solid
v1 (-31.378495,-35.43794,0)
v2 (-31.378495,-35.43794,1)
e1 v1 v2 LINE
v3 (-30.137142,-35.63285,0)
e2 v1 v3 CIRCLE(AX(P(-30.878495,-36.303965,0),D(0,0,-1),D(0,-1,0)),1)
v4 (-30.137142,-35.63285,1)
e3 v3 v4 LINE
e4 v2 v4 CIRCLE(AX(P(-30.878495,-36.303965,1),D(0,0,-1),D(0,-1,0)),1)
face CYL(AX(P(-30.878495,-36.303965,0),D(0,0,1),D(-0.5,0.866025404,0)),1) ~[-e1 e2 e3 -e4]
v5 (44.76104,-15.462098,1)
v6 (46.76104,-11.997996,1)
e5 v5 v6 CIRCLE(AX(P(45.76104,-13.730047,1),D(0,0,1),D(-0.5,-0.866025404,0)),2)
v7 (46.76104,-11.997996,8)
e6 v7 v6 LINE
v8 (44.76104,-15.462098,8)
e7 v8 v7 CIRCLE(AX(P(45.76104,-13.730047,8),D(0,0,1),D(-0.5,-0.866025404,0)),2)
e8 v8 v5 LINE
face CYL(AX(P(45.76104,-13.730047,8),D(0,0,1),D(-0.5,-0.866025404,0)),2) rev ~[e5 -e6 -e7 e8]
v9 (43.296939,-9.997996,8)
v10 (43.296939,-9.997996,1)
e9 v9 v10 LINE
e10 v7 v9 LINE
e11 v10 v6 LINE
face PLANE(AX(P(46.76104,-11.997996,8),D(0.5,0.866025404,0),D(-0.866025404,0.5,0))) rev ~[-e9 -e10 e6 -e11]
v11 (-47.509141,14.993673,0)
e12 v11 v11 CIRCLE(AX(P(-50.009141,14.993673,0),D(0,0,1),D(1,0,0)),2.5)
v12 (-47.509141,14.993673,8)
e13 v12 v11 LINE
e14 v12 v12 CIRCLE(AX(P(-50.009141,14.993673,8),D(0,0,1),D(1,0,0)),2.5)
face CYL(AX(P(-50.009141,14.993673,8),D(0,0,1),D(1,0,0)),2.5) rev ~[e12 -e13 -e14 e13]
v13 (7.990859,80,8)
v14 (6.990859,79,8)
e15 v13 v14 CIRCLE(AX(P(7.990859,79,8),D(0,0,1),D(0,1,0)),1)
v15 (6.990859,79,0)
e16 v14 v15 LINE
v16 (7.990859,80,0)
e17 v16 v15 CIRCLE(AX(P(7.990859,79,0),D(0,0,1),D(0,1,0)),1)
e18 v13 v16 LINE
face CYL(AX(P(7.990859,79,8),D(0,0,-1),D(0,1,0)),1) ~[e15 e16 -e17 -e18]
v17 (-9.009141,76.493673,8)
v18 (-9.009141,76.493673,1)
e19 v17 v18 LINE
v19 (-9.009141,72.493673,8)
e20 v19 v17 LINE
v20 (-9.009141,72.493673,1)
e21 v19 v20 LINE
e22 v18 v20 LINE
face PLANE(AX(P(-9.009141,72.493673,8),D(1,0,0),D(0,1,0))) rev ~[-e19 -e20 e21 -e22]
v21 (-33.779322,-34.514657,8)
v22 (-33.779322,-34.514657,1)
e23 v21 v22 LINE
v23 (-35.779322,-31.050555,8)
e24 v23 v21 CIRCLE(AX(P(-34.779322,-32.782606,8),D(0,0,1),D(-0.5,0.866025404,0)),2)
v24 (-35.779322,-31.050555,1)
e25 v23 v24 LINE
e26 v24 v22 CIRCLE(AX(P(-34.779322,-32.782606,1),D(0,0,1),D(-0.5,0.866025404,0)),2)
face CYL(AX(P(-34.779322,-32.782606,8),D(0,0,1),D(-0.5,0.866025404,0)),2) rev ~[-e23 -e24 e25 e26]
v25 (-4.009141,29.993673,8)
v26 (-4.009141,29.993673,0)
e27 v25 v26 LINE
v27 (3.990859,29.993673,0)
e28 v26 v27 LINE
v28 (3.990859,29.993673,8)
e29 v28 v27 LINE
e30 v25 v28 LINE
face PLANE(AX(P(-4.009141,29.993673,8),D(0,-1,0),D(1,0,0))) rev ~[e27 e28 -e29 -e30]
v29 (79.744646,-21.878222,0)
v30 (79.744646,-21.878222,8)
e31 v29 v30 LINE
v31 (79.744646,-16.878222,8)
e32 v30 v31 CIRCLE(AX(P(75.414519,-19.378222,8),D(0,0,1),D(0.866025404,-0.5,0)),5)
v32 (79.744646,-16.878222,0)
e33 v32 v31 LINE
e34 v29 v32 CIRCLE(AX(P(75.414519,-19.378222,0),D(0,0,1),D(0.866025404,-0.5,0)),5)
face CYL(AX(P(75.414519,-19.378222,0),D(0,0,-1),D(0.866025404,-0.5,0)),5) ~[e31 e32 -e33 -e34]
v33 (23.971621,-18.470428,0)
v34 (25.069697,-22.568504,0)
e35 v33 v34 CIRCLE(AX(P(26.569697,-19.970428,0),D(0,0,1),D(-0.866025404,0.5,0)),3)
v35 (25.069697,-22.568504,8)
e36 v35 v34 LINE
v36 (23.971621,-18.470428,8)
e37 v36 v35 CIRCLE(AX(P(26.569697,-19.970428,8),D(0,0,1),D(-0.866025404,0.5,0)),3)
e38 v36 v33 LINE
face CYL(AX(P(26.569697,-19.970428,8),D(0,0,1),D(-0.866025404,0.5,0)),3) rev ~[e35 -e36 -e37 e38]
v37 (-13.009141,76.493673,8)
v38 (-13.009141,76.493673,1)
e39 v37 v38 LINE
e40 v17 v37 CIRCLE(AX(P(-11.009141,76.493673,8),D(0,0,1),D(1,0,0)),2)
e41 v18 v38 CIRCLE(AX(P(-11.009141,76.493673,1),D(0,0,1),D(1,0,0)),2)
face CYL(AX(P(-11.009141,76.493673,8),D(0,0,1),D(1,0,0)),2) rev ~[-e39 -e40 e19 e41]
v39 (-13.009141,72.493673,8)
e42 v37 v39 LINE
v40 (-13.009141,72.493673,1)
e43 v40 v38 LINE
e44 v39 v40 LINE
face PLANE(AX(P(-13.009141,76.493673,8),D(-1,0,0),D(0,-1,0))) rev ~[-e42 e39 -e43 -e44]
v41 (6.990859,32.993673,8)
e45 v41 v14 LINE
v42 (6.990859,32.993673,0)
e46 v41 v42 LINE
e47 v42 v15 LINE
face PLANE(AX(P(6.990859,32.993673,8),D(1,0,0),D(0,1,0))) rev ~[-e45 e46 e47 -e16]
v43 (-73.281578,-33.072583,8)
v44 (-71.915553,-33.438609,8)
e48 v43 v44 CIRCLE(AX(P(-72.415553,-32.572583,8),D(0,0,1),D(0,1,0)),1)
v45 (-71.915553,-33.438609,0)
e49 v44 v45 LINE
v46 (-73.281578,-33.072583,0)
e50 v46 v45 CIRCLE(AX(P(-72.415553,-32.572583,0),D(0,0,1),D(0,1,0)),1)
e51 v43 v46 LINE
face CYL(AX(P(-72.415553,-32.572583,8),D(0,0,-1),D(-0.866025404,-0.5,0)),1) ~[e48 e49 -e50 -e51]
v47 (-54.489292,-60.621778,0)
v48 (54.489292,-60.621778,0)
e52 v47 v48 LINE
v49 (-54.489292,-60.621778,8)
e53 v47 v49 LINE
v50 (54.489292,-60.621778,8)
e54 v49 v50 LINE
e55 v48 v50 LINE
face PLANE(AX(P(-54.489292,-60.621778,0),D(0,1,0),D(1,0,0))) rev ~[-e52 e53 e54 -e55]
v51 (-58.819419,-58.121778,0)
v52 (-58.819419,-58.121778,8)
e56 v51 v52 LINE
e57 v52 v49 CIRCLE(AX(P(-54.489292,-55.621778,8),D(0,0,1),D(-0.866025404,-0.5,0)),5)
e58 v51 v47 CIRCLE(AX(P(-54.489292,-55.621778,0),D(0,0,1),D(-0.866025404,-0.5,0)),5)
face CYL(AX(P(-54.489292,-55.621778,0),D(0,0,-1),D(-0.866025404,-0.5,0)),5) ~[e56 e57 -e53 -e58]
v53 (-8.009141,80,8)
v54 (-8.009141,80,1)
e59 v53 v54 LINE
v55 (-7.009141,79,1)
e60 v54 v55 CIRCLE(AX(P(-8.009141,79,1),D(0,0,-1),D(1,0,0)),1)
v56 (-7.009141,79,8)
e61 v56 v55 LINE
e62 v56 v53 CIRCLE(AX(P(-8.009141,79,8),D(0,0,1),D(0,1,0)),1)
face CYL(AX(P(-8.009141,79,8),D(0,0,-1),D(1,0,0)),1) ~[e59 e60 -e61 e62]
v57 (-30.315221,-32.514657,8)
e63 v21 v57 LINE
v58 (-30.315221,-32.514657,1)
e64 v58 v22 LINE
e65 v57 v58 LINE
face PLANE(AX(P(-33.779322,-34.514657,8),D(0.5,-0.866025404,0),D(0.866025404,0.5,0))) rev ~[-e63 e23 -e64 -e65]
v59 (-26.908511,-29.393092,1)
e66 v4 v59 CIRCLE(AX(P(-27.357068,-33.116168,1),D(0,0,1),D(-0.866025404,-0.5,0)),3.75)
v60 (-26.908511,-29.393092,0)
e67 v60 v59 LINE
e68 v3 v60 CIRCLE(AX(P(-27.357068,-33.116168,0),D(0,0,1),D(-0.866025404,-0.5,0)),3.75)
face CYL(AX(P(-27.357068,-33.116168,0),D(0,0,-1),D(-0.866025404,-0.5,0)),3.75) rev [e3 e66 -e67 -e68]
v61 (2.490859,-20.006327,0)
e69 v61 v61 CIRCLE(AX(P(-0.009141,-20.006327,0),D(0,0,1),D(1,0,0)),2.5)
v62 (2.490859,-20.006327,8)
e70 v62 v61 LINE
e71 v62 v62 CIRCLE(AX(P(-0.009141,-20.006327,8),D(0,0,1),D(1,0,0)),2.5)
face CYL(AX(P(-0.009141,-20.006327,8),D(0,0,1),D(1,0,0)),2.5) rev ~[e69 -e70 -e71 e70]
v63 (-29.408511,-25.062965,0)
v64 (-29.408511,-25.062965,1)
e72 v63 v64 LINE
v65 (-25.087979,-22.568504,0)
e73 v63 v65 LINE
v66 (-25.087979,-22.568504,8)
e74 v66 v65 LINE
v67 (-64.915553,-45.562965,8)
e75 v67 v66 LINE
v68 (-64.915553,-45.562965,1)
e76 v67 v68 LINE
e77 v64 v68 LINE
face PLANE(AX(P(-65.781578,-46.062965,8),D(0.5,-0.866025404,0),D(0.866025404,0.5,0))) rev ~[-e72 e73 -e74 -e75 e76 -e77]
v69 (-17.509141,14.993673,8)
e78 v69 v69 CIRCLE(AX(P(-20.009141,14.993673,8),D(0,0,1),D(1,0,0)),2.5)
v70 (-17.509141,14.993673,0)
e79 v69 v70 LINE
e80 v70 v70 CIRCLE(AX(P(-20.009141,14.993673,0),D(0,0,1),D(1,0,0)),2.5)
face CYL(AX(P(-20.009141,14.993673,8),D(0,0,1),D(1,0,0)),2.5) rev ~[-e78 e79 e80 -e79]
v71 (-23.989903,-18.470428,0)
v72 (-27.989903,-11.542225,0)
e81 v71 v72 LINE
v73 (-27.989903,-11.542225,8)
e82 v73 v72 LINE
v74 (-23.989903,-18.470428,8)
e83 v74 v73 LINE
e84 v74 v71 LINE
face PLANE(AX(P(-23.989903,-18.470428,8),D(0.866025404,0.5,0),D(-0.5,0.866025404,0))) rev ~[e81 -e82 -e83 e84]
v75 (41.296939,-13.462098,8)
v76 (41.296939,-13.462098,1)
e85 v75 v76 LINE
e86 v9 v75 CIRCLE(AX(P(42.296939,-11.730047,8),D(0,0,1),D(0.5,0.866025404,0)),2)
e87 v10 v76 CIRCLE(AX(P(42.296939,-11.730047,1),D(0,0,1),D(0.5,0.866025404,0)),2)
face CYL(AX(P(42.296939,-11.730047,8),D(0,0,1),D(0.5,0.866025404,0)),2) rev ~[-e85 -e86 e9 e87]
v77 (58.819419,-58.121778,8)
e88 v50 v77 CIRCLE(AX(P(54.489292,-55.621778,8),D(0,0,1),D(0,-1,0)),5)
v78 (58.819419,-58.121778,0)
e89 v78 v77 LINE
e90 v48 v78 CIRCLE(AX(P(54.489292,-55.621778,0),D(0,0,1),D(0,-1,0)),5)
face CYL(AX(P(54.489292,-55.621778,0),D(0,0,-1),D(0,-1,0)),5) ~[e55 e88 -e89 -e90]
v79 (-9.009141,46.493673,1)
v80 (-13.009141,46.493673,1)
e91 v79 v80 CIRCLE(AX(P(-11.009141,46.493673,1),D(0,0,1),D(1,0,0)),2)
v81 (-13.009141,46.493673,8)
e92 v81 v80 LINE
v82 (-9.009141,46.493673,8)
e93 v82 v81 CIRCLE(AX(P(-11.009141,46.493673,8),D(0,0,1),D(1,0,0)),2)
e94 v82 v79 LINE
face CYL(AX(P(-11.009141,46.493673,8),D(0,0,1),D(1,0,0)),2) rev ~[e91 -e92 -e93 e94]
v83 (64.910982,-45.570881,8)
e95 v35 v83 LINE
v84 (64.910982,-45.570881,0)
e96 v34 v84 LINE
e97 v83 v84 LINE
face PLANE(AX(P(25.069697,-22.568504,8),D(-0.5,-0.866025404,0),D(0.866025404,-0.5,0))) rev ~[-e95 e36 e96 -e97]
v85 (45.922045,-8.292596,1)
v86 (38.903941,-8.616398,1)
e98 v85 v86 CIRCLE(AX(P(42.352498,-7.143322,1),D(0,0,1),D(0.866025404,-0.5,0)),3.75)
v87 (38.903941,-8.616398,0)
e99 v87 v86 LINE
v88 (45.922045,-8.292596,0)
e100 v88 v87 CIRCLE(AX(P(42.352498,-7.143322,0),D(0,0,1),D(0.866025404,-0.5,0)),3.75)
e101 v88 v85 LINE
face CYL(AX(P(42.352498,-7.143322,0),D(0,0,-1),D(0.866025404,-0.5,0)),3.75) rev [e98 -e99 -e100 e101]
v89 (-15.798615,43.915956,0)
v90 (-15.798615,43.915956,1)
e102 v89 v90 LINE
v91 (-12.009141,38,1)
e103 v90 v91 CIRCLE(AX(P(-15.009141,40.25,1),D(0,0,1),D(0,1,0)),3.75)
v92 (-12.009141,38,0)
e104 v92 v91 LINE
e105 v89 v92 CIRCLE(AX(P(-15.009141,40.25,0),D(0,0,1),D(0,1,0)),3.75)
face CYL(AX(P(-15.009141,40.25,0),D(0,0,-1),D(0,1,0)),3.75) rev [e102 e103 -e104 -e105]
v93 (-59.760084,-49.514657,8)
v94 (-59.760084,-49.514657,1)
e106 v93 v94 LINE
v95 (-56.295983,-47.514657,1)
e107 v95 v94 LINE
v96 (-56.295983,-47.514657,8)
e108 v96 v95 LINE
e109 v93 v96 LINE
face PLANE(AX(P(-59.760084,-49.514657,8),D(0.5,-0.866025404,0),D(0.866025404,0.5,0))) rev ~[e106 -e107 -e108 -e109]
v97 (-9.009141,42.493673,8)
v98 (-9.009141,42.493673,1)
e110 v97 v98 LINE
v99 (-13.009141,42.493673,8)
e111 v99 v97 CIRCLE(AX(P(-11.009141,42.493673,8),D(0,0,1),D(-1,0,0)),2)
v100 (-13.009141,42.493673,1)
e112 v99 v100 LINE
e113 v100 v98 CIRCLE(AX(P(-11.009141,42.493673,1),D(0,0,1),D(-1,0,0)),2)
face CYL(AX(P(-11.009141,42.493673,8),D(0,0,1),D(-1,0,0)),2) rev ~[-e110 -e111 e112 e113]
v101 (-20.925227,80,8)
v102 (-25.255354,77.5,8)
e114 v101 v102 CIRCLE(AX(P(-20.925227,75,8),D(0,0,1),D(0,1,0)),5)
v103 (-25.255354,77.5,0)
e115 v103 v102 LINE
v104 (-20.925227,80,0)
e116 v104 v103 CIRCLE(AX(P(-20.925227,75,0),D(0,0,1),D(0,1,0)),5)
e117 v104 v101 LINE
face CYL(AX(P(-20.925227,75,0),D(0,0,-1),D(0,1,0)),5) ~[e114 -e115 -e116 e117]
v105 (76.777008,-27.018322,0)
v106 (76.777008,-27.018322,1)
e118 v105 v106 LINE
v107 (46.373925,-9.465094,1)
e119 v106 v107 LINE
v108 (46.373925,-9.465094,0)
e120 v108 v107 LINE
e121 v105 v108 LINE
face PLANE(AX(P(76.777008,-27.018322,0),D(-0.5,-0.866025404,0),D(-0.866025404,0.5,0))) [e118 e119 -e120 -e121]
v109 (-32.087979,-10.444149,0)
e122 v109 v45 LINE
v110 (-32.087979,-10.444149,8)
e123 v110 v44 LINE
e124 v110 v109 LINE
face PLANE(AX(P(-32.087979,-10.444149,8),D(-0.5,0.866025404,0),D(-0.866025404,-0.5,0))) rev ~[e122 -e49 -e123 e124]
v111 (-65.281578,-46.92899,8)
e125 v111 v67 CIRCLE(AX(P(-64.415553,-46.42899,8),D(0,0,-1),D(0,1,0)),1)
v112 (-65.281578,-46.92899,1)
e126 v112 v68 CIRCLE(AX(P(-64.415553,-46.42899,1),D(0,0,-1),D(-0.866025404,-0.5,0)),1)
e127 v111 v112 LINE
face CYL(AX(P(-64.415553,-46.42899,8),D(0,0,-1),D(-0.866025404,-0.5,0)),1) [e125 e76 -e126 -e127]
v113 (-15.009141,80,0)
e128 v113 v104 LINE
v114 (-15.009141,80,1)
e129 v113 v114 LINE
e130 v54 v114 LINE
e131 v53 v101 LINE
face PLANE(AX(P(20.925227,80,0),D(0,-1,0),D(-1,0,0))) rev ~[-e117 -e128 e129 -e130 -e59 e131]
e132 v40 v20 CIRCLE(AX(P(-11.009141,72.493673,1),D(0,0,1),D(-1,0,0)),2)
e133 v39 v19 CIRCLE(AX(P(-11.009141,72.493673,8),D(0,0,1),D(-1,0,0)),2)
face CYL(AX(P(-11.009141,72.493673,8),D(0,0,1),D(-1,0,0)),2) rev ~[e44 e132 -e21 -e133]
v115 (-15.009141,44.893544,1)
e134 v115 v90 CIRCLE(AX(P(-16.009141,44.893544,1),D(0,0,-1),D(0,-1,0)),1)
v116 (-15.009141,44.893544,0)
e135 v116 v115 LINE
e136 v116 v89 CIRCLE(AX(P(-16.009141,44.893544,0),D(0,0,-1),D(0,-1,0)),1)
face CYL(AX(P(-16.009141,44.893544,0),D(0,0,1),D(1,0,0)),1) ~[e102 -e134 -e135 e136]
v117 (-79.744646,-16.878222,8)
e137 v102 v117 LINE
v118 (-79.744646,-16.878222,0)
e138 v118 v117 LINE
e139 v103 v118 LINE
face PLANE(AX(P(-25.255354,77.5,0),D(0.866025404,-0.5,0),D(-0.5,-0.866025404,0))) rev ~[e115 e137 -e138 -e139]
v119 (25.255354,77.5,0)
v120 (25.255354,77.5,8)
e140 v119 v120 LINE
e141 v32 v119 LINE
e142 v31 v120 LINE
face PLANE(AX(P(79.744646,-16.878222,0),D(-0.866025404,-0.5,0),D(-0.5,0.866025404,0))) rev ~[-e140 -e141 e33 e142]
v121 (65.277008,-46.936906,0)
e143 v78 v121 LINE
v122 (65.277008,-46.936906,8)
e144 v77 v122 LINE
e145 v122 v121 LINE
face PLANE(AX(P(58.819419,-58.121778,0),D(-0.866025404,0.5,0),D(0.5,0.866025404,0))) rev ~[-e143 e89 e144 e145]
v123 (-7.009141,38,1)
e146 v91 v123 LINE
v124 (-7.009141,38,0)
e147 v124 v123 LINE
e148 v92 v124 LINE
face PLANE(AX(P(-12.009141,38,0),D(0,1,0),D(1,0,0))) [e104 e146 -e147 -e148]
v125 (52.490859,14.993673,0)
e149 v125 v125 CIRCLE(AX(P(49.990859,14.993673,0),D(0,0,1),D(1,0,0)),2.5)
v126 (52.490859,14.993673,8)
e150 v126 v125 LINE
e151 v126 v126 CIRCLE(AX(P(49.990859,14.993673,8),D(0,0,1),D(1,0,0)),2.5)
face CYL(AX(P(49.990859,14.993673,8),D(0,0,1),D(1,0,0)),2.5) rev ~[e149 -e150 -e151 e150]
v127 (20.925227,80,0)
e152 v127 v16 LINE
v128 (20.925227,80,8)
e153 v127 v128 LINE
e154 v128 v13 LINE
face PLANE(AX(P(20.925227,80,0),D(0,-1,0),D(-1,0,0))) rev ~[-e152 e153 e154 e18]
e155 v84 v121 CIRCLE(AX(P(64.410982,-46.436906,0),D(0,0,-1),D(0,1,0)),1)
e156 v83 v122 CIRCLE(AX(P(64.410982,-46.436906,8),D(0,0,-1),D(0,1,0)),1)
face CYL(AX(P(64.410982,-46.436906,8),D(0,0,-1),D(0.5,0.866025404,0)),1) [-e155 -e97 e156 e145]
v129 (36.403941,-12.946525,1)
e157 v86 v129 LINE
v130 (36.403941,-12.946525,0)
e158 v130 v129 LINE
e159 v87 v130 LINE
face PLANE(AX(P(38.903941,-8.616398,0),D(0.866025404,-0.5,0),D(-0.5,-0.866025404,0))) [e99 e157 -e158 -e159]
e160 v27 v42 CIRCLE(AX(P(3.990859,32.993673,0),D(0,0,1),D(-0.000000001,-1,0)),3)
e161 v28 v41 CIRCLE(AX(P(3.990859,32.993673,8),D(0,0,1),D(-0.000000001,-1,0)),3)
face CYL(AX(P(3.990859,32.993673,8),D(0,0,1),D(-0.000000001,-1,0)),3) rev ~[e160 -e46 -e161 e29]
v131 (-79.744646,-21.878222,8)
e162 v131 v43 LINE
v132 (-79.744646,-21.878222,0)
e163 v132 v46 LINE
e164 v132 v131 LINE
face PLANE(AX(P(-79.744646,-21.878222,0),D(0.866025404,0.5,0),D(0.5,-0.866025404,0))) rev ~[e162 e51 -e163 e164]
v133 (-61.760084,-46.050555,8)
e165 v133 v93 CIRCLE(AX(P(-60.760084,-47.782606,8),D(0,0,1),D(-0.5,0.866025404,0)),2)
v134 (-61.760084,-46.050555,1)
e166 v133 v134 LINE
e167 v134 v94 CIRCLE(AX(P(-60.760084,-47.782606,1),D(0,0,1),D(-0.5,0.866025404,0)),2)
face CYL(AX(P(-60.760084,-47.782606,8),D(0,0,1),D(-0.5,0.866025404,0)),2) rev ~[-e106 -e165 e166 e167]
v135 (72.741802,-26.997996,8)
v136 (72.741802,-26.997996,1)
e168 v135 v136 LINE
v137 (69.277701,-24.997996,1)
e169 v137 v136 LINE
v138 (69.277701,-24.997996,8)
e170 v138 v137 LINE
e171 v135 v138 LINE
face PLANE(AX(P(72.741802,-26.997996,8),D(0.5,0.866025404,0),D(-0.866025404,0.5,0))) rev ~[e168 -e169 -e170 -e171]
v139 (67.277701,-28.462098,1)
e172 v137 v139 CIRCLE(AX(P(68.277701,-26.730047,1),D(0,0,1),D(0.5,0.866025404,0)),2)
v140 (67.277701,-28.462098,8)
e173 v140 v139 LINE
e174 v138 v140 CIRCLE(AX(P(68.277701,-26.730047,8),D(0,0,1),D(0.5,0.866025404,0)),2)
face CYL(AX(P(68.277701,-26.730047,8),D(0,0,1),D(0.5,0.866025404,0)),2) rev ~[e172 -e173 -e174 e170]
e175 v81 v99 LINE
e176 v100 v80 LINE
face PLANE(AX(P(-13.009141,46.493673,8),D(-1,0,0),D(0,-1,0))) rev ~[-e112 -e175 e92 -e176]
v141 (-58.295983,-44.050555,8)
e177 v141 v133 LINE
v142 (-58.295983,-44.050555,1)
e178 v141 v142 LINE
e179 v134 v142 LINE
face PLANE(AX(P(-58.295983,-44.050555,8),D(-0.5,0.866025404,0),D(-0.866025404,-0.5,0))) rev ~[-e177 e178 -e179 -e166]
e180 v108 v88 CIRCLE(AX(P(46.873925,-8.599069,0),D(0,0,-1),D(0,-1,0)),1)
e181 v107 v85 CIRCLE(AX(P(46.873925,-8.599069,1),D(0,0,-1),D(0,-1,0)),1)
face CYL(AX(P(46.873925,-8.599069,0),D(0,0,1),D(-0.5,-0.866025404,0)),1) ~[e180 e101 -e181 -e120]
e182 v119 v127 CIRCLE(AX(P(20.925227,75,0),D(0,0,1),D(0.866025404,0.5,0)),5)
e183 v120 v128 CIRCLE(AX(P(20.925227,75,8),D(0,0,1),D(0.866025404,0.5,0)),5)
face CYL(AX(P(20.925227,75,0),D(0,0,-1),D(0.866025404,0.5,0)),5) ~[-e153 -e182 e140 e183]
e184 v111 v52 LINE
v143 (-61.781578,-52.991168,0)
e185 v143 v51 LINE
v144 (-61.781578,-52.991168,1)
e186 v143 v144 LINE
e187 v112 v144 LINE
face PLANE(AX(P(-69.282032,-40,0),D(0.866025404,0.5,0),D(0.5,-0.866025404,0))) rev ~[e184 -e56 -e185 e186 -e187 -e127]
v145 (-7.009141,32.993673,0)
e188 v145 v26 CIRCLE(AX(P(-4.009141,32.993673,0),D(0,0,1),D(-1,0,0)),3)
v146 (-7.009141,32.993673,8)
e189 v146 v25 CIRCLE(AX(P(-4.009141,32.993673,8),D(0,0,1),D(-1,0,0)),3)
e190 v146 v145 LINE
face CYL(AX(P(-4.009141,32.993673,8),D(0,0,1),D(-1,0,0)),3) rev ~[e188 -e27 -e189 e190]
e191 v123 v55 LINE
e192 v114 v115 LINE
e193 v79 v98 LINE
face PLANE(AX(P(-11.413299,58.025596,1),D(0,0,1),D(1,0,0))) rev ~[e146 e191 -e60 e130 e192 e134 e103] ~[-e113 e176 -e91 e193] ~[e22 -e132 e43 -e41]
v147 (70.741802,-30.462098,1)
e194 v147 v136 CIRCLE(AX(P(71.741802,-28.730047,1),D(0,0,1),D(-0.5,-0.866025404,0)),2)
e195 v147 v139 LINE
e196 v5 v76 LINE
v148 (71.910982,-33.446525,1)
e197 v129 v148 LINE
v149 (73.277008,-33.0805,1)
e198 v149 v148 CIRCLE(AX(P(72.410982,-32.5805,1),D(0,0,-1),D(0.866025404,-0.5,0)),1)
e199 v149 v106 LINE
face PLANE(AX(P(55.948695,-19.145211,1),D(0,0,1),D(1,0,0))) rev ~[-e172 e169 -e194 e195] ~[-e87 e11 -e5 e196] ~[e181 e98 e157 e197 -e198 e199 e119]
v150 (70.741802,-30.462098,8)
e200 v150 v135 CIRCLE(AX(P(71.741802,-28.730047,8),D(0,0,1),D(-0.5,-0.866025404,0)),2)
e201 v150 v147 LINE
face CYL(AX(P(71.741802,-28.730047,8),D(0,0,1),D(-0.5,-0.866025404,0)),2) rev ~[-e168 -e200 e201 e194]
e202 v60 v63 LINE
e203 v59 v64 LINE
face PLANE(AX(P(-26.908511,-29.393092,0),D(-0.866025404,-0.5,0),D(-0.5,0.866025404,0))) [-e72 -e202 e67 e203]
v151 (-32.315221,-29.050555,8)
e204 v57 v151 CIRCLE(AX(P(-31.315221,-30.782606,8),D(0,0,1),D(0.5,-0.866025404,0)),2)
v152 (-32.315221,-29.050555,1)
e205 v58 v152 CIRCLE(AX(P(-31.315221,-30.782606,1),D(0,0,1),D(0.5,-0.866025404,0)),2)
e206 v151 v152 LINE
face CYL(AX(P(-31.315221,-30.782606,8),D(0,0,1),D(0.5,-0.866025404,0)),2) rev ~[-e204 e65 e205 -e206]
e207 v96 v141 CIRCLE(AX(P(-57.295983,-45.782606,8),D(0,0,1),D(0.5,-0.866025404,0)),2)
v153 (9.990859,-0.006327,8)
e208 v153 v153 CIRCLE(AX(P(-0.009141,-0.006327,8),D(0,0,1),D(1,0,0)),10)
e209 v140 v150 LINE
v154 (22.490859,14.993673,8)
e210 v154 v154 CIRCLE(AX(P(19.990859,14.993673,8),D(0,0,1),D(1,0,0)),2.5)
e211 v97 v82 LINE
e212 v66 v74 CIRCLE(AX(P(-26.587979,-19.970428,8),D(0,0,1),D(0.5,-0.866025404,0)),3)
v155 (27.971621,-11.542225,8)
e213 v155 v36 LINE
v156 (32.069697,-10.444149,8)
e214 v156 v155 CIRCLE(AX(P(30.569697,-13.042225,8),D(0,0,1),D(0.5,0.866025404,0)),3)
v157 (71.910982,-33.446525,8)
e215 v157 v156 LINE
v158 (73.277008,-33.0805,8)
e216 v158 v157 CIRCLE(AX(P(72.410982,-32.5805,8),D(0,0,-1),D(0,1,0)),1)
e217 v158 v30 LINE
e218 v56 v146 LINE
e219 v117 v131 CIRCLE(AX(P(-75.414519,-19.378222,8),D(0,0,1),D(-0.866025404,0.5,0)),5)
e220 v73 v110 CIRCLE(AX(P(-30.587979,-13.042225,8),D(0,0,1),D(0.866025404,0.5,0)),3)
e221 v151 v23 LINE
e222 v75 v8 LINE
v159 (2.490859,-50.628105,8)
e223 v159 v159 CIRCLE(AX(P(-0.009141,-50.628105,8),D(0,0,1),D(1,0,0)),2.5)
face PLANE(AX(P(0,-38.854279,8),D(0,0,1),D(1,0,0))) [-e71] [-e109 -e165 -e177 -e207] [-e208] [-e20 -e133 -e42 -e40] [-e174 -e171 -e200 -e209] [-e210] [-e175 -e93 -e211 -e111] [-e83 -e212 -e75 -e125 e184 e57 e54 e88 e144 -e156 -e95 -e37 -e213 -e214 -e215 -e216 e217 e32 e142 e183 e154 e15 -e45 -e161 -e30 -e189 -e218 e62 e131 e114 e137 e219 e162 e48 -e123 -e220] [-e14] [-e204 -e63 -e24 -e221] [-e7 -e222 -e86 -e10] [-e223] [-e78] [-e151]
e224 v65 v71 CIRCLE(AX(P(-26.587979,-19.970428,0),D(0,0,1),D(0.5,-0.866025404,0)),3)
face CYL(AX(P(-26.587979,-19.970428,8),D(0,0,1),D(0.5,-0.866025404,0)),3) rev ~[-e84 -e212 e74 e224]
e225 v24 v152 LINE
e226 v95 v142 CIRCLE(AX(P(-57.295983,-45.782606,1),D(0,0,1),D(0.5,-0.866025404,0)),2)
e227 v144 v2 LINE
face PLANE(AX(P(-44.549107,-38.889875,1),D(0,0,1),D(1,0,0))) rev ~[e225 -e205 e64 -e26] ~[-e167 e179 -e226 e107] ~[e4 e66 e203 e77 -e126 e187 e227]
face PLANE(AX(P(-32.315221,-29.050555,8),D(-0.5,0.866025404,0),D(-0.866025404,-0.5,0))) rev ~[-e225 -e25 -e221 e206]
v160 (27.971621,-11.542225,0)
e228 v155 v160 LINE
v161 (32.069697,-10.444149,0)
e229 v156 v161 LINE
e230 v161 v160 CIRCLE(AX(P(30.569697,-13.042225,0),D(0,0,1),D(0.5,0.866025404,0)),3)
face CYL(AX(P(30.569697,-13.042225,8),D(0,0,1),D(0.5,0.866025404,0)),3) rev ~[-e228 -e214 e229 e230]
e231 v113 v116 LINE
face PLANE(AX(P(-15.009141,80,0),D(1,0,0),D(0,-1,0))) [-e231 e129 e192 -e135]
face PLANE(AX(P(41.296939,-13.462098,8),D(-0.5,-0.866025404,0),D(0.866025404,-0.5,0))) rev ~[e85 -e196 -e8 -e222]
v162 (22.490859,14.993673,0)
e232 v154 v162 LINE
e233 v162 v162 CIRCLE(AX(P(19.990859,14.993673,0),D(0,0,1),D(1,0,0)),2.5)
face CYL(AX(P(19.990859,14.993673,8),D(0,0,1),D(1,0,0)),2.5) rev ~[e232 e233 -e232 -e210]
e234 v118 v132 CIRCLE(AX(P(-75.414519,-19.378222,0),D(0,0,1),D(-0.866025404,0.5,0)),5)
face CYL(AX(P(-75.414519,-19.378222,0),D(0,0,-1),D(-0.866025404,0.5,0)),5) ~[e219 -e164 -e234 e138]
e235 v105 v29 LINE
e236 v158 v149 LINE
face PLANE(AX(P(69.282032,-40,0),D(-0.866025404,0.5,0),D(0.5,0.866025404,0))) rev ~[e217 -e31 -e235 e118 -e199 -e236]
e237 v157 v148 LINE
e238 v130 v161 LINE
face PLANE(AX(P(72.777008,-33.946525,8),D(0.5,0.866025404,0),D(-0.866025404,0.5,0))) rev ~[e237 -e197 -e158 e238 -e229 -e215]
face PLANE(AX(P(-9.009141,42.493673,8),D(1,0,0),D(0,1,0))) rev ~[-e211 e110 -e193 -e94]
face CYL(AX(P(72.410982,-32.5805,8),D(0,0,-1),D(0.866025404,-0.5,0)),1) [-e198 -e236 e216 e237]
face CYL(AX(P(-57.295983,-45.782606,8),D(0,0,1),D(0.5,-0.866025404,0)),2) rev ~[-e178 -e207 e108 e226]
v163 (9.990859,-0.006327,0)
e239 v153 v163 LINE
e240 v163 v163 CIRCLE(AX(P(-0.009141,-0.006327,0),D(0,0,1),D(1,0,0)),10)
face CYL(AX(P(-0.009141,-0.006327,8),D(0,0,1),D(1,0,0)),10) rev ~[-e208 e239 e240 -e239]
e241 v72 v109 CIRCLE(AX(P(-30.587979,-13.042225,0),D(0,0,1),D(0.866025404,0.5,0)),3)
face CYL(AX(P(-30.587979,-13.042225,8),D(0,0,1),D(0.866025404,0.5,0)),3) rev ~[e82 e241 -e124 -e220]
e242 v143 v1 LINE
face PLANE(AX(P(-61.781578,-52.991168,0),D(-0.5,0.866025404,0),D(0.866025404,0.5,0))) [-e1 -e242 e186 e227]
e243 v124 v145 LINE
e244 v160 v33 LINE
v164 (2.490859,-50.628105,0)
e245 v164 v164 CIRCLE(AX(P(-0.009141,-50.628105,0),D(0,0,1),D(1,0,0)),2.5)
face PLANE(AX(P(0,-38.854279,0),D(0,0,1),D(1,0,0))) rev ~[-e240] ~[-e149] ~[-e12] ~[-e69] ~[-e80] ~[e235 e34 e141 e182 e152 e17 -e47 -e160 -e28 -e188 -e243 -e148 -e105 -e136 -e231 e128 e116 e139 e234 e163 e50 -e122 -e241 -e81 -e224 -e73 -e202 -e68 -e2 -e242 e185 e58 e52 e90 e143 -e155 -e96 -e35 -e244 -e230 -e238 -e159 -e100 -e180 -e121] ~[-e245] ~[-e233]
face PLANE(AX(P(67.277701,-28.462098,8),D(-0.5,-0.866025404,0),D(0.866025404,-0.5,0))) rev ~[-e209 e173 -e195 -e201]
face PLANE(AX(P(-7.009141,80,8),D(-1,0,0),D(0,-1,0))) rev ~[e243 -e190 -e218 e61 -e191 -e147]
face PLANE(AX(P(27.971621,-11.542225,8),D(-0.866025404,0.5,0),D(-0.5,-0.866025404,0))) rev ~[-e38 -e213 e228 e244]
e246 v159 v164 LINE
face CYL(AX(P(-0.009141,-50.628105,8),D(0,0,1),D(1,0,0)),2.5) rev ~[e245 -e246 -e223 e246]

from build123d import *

# Parameters (mm, degrees)
BOSS_EXTRUDE1_DEPTH = 8
SKETCH5_R           = 2.5
SKETCH5_R_2         = 10
CUT_EXTRUDE26_DEPTH = 9
FILLET2_R           = 1
FILLET3_R           = 1
CUT_EXTRUDE27_DEPTH = 1
FILLET4_R           = 1


with BuildPart() as part:
    # Sketch3 → Boss-Extrude1 (new body)
    with BuildSketch(Plane.XY):
        with BuildLine():
            Line((69.282032303, -40), (0, 0))
            Line((0, 0), (-69.282032302, -40))
            Line((-69.282032302, -40), (-58.819418743, -58.121778265))
            ThreePointArc((-58.819418743, -58.121778265), (-56.989291724, -59.951905284), (-54.489291724, -60.621778265))
            Line((-54.489291724, -60.621778265), (54.489291724, -60.621778265))
            ThreePointArc((54.489291724, -60.621778265), (56.989291724, -59.951905284), (58.819418743, -58.121778265))
            Line((58.819418743, -58.121778265), (69.282032303, -40))
        make_face()
        with BuildLine():
            Line((0, 80), (0, 0))
            Line((0, 0), (69.282032303, -40))
            Line((69.282032303, -40), (79.744645862, -21.878221735))
            ThreePointArc((79.744645862, -21.878221735), (80.414518843, -19.378221735), (79.744645862, -16.878221735))
            Line((79.744645862, -16.878221735), (25.255354138, 77.5))
            ThreePointArc((25.255354138, 77.5), (23.425227119, 79.330127019), (20.925227119, 80))
            Line((20.925227119, 80), (0, 80))
        make_face()
        with BuildLine():
            Line((-69.282032302, -40), (0, 0))
            Line((0, 0), (0, 80))
            Line((0, 80), (-20.925227119, 80))
            ThreePointArc((-20.925227119, 80), (-23.425227119, 79.330127019), (-25.255354138, 77.5))
            Line((-25.255354138, 77.5), (-79.744645862, -16.878221735))
            ThreePointArc((-79.744645862, -16.878221735), (-80.414518843, -19.378221735), (-79.744645862, -21.878221735))
            Line((-79.744645862, -21.878221735), (-69.282032302, -40))
        make_face()
    extrude(amount=BOSS_EXTRUDE1_DEPTH)

    # Sketch5 → Cut-Extrude26 (cut, through all)
    with BuildSketch(Plane.XY.offset(8)):
        with BuildLine():
            Line((6.99085892, 80), (-7.00914108, 80))
            Line((-7.00914108, 80), (-7.00914108, 32.993673427))
            ThreePointArc((-7.00914108, 32.993673427), (-6.130461423, 30.872353083), (-4.00914108, 29.993673427))
            Line((-4.00914108, 29.993673427), (3.99085892, 29.993673427))
            ThreePointArc((3.99085892, 29.993673427), (6.112179264, 30.872353083), (6.99085892, 32.993673427))
            Line((6.99085892, 32.993673427), (6.99085892, 80))
        make_face()
        with BuildLine():
            Line((-13.00914108, 76.493673427), (-13.00914108, 72.493673427))
            ThreePointArc((-13.00914108, 72.493673427), (-11.00914108, 70.493673427), (-9.00914108, 72.493673427))
            Line((-9.00914108, 72.493673427), (-9.00914108, 76.493673427))
            ThreePointArc((-9.00914108, 76.493673427), (-11.00914108, 78.493673427), (-13.00914108, 76.493673427))
        make_face()
        with BuildLine():
            Line((-13.00914108, 46.493673427), (-13.00914108, 42.493673427))
            ThreePointArc((-13.00914108, 42.493673427), (-11.00914108, 40.493673427), (-9.00914108, 42.493673427))
            Line((-9.00914108, 42.493673427), (-9.00914108, 46.493673427))
            ThreePointArc((-9.00914108, 46.493673427), (-11.00914108, 48.493673427), (-13.00914108, 46.493673427))
        make_face()
        with Locations((49.99085892, 14.993673427)):
            Circle(SKETCH5_R)
        with Locations((19.99085892, 14.993673427)):
            Circle(SKETCH5_R)
        with Locations((-20.00914108, 14.993673427)):
            Circle(SKETCH5_R)
        with Locations((-50.00914108, 14.993673427)):
            Circle(SKETCH5_R)
        with Locations((-0.00914108, -0.006326573)):
            Circle(SKETCH5_R_2)
        with BuildLine():
            Line((-32.087979405, -10.444148747), (-72.781578086, -33.9386089))
            Line((-72.781578086, -33.9386089), (-65.781578086, -46.062964553))
            Line((-65.781578086, -46.062964553), (-25.087979405, -22.5685044))
            ThreePointArc((-25.087979405, -22.5685044), (-23.690201926, -20.746885324), (-23.989903193, -18.470428188))
            Line((-23.989903193, -18.470428188), (-27.989903193, -11.542224958))
            ThreePointArc((-27.989903193, -11.542224958), (-29.811522269, -10.144447479), (-32.087979405, -10.444148747))
        make_face()
        with BuildLine():
            Line((-33.779322356, -34.514656822), (-30.315220741, -32.514656822))
            ThreePointArc((-30.315220741, -32.514656822), (-29.583169933, -29.782606015), (-32.315220741, -29.050555207))
            Line((-32.315220741, -29.050555207), (-35.779322356, -31.050555207))
            ThreePointArc((-35.779322356, -31.050555207), (-36.511373163, -33.782606015), (-33.779322356, -34.514656822))
        make_face()
        with BuildLine():
            Line((-59.760084469, -49.514656822), (-56.295982854, -47.514656822))
            ThreePointArc((-56.295982854, -47.514656822), (-55.563932046, -44.782606015), (-58.295982854, -44.050555207))
            Line((-58.295982854, -44.050555207), (-61.760084469, -46.050555207))
            ThreePointArc((-61.760084469, -46.050555207), (-62.492135277, -48.782606015), (-59.760084469, -49.514656822))
        make_face()
        with Locations((-0.00914108, -50.628104838)):
            Circle(SKETCH5_R)
        with Locations((-0.00914108, -20.006326573)):
            Circle(SKETCH5_R)
        with BuildLine():
            Line((65.777007546, -46.07088096), (72.777007546, -33.946525307))
            Line((72.777007546, -33.946525307), (32.069697245, -10.444148747))
            ThreePointArc((32.069697245, -10.444148747), (29.793240109, -10.144447479), (27.971621033, -11.542224958))
            Line((27.971621033, -11.542224958), (23.971621033, -18.470428188))
            ThreePointArc((23.971621033, -18.470428188), (23.671919766, -20.746885324), (25.069697245, -22.5685044))
            Line((25.069697245, -22.5685044), (65.777007546, -46.07088096))
        make_face()
        with BuildLine():
            Line((41.296938581, -13.462097939), (44.761040196, -15.462097939))
            ThreePointArc((44.761040196, -15.462097939), (47.493091003, -14.730047132), (46.761040196, -11.997996324))
            Line((46.761040196, -11.997996324), (43.296938581, -9.997996324))
            ThreePointArc((43.296938581, -9.997996324), (40.564887773, -10.730047132), (41.296938581, -13.462097939))
        make_face()
        with BuildLine():
            Line((67.277700694, -28.462097939), (70.741802309, -30.462097939))
            ThreePointArc((70.741802309, -30.462097939), (73.473853117, -29.730047132), (72.741802309, -26.997996324))
            Line((72.741802309, -26.997996324), (69.277700694, -24.997996324))
            ThreePointArc((69.277700694, -24.997996324), (66.545649887, -25.730047132), (67.277700694, -28.462097939))
        make_face()
    extrude(amount=-CUT_EXTRUDE26_DEPTH, mode=Mode.SUBTRACT)

    # Fillet2
    fillet2_edges = [part.edges().sort_by_distance(p)[0] for p in [
        (72.777007546, -33.946525307, 4),
    ]]
    fillet(fillet2_edges, radius=FILLET2_R)

    # Fillet3
    fillet3_edges = [part.edges().sort_by_distance(p)[0] for p in [
        (-65.781578086, -46.062964553, 4),
        (-72.781578086, -33.9386089, 4),
        (65.777007546, -46.07088096, 4),
        (-7.00914108, 80, 4),
        (6.99085892, 80, 4),
    ]]
    fillet(fillet3_edges, radius=FILLET3_R)

    # Sketch7 → Cut-Extrude27 (cut)
    with BuildSketch(Plane(origin=(0, 0, 0), x_dir=(-1, 0, 0), z_dir=(0, 0, -1))):
        with BuildLine():
            Line((61.781578086, -52.991167783), (30.60466355, -34.991167783))
            ThreePointArc((30.60466355, -34.991167783), (24.227648547, -35.182379801), (26.908511127, -29.393091572))
            Line((26.908511127, -29.393091572), (29.408511127, -25.062964553))
            Line((29.408511127, -25.062964553), (65.781578086, -46.062964553))
            Line((65.781578086, -46.062964553), (61.781578086, -52.991167783))
        make_face()
        with BuildLine():
            Line((-76.777007546, -27.018322077), (-45.60009301, -9.018322077))
            ThreePointArc((-45.60009301, -9.018322077), (-42.577179974, -3.400059076), (-38.903940587, -8.616398288))
            Line((-38.903940587, -8.616398288), (-36.403940587, -12.946525307))
            Line((-36.403940587, -12.946525307), (-72.777007546, -33.946525307))
            Line((-72.777007546, -33.946525307), (-76.777007546, -27.018322077))
        make_face()
        with BuildLine():
            Line((15.00914108, 80), (15.00914108, 44))
            ThreePointArc((15.00914108, 44), (18.363243046, 38.572949017), (12.00914108, 38))
            Line((12.00914108, 38), (7.00914108, 38))
            Line((7.00914108, 38), (7.00914108, 80))
            Line((7.00914108, 80), (15.00914108, 80))
        make_face()
    extrude(amount=-CUT_EXTRUDE27_DEPTH, mode=Mode.SUBTRACT)

    # Fillet4
    fillet4_edges = [part.edges().sort_by_distance(p)[0] for p in [
        (45.60009301, -9.018322077, 0.5),
        (-30.60466355, -34.991167783, 0.5),
        (-15.00914108, 44, 0.5),
    ]]
    fillet(fillet4_edges, radius=FILLET4_R)


solid = part.part
